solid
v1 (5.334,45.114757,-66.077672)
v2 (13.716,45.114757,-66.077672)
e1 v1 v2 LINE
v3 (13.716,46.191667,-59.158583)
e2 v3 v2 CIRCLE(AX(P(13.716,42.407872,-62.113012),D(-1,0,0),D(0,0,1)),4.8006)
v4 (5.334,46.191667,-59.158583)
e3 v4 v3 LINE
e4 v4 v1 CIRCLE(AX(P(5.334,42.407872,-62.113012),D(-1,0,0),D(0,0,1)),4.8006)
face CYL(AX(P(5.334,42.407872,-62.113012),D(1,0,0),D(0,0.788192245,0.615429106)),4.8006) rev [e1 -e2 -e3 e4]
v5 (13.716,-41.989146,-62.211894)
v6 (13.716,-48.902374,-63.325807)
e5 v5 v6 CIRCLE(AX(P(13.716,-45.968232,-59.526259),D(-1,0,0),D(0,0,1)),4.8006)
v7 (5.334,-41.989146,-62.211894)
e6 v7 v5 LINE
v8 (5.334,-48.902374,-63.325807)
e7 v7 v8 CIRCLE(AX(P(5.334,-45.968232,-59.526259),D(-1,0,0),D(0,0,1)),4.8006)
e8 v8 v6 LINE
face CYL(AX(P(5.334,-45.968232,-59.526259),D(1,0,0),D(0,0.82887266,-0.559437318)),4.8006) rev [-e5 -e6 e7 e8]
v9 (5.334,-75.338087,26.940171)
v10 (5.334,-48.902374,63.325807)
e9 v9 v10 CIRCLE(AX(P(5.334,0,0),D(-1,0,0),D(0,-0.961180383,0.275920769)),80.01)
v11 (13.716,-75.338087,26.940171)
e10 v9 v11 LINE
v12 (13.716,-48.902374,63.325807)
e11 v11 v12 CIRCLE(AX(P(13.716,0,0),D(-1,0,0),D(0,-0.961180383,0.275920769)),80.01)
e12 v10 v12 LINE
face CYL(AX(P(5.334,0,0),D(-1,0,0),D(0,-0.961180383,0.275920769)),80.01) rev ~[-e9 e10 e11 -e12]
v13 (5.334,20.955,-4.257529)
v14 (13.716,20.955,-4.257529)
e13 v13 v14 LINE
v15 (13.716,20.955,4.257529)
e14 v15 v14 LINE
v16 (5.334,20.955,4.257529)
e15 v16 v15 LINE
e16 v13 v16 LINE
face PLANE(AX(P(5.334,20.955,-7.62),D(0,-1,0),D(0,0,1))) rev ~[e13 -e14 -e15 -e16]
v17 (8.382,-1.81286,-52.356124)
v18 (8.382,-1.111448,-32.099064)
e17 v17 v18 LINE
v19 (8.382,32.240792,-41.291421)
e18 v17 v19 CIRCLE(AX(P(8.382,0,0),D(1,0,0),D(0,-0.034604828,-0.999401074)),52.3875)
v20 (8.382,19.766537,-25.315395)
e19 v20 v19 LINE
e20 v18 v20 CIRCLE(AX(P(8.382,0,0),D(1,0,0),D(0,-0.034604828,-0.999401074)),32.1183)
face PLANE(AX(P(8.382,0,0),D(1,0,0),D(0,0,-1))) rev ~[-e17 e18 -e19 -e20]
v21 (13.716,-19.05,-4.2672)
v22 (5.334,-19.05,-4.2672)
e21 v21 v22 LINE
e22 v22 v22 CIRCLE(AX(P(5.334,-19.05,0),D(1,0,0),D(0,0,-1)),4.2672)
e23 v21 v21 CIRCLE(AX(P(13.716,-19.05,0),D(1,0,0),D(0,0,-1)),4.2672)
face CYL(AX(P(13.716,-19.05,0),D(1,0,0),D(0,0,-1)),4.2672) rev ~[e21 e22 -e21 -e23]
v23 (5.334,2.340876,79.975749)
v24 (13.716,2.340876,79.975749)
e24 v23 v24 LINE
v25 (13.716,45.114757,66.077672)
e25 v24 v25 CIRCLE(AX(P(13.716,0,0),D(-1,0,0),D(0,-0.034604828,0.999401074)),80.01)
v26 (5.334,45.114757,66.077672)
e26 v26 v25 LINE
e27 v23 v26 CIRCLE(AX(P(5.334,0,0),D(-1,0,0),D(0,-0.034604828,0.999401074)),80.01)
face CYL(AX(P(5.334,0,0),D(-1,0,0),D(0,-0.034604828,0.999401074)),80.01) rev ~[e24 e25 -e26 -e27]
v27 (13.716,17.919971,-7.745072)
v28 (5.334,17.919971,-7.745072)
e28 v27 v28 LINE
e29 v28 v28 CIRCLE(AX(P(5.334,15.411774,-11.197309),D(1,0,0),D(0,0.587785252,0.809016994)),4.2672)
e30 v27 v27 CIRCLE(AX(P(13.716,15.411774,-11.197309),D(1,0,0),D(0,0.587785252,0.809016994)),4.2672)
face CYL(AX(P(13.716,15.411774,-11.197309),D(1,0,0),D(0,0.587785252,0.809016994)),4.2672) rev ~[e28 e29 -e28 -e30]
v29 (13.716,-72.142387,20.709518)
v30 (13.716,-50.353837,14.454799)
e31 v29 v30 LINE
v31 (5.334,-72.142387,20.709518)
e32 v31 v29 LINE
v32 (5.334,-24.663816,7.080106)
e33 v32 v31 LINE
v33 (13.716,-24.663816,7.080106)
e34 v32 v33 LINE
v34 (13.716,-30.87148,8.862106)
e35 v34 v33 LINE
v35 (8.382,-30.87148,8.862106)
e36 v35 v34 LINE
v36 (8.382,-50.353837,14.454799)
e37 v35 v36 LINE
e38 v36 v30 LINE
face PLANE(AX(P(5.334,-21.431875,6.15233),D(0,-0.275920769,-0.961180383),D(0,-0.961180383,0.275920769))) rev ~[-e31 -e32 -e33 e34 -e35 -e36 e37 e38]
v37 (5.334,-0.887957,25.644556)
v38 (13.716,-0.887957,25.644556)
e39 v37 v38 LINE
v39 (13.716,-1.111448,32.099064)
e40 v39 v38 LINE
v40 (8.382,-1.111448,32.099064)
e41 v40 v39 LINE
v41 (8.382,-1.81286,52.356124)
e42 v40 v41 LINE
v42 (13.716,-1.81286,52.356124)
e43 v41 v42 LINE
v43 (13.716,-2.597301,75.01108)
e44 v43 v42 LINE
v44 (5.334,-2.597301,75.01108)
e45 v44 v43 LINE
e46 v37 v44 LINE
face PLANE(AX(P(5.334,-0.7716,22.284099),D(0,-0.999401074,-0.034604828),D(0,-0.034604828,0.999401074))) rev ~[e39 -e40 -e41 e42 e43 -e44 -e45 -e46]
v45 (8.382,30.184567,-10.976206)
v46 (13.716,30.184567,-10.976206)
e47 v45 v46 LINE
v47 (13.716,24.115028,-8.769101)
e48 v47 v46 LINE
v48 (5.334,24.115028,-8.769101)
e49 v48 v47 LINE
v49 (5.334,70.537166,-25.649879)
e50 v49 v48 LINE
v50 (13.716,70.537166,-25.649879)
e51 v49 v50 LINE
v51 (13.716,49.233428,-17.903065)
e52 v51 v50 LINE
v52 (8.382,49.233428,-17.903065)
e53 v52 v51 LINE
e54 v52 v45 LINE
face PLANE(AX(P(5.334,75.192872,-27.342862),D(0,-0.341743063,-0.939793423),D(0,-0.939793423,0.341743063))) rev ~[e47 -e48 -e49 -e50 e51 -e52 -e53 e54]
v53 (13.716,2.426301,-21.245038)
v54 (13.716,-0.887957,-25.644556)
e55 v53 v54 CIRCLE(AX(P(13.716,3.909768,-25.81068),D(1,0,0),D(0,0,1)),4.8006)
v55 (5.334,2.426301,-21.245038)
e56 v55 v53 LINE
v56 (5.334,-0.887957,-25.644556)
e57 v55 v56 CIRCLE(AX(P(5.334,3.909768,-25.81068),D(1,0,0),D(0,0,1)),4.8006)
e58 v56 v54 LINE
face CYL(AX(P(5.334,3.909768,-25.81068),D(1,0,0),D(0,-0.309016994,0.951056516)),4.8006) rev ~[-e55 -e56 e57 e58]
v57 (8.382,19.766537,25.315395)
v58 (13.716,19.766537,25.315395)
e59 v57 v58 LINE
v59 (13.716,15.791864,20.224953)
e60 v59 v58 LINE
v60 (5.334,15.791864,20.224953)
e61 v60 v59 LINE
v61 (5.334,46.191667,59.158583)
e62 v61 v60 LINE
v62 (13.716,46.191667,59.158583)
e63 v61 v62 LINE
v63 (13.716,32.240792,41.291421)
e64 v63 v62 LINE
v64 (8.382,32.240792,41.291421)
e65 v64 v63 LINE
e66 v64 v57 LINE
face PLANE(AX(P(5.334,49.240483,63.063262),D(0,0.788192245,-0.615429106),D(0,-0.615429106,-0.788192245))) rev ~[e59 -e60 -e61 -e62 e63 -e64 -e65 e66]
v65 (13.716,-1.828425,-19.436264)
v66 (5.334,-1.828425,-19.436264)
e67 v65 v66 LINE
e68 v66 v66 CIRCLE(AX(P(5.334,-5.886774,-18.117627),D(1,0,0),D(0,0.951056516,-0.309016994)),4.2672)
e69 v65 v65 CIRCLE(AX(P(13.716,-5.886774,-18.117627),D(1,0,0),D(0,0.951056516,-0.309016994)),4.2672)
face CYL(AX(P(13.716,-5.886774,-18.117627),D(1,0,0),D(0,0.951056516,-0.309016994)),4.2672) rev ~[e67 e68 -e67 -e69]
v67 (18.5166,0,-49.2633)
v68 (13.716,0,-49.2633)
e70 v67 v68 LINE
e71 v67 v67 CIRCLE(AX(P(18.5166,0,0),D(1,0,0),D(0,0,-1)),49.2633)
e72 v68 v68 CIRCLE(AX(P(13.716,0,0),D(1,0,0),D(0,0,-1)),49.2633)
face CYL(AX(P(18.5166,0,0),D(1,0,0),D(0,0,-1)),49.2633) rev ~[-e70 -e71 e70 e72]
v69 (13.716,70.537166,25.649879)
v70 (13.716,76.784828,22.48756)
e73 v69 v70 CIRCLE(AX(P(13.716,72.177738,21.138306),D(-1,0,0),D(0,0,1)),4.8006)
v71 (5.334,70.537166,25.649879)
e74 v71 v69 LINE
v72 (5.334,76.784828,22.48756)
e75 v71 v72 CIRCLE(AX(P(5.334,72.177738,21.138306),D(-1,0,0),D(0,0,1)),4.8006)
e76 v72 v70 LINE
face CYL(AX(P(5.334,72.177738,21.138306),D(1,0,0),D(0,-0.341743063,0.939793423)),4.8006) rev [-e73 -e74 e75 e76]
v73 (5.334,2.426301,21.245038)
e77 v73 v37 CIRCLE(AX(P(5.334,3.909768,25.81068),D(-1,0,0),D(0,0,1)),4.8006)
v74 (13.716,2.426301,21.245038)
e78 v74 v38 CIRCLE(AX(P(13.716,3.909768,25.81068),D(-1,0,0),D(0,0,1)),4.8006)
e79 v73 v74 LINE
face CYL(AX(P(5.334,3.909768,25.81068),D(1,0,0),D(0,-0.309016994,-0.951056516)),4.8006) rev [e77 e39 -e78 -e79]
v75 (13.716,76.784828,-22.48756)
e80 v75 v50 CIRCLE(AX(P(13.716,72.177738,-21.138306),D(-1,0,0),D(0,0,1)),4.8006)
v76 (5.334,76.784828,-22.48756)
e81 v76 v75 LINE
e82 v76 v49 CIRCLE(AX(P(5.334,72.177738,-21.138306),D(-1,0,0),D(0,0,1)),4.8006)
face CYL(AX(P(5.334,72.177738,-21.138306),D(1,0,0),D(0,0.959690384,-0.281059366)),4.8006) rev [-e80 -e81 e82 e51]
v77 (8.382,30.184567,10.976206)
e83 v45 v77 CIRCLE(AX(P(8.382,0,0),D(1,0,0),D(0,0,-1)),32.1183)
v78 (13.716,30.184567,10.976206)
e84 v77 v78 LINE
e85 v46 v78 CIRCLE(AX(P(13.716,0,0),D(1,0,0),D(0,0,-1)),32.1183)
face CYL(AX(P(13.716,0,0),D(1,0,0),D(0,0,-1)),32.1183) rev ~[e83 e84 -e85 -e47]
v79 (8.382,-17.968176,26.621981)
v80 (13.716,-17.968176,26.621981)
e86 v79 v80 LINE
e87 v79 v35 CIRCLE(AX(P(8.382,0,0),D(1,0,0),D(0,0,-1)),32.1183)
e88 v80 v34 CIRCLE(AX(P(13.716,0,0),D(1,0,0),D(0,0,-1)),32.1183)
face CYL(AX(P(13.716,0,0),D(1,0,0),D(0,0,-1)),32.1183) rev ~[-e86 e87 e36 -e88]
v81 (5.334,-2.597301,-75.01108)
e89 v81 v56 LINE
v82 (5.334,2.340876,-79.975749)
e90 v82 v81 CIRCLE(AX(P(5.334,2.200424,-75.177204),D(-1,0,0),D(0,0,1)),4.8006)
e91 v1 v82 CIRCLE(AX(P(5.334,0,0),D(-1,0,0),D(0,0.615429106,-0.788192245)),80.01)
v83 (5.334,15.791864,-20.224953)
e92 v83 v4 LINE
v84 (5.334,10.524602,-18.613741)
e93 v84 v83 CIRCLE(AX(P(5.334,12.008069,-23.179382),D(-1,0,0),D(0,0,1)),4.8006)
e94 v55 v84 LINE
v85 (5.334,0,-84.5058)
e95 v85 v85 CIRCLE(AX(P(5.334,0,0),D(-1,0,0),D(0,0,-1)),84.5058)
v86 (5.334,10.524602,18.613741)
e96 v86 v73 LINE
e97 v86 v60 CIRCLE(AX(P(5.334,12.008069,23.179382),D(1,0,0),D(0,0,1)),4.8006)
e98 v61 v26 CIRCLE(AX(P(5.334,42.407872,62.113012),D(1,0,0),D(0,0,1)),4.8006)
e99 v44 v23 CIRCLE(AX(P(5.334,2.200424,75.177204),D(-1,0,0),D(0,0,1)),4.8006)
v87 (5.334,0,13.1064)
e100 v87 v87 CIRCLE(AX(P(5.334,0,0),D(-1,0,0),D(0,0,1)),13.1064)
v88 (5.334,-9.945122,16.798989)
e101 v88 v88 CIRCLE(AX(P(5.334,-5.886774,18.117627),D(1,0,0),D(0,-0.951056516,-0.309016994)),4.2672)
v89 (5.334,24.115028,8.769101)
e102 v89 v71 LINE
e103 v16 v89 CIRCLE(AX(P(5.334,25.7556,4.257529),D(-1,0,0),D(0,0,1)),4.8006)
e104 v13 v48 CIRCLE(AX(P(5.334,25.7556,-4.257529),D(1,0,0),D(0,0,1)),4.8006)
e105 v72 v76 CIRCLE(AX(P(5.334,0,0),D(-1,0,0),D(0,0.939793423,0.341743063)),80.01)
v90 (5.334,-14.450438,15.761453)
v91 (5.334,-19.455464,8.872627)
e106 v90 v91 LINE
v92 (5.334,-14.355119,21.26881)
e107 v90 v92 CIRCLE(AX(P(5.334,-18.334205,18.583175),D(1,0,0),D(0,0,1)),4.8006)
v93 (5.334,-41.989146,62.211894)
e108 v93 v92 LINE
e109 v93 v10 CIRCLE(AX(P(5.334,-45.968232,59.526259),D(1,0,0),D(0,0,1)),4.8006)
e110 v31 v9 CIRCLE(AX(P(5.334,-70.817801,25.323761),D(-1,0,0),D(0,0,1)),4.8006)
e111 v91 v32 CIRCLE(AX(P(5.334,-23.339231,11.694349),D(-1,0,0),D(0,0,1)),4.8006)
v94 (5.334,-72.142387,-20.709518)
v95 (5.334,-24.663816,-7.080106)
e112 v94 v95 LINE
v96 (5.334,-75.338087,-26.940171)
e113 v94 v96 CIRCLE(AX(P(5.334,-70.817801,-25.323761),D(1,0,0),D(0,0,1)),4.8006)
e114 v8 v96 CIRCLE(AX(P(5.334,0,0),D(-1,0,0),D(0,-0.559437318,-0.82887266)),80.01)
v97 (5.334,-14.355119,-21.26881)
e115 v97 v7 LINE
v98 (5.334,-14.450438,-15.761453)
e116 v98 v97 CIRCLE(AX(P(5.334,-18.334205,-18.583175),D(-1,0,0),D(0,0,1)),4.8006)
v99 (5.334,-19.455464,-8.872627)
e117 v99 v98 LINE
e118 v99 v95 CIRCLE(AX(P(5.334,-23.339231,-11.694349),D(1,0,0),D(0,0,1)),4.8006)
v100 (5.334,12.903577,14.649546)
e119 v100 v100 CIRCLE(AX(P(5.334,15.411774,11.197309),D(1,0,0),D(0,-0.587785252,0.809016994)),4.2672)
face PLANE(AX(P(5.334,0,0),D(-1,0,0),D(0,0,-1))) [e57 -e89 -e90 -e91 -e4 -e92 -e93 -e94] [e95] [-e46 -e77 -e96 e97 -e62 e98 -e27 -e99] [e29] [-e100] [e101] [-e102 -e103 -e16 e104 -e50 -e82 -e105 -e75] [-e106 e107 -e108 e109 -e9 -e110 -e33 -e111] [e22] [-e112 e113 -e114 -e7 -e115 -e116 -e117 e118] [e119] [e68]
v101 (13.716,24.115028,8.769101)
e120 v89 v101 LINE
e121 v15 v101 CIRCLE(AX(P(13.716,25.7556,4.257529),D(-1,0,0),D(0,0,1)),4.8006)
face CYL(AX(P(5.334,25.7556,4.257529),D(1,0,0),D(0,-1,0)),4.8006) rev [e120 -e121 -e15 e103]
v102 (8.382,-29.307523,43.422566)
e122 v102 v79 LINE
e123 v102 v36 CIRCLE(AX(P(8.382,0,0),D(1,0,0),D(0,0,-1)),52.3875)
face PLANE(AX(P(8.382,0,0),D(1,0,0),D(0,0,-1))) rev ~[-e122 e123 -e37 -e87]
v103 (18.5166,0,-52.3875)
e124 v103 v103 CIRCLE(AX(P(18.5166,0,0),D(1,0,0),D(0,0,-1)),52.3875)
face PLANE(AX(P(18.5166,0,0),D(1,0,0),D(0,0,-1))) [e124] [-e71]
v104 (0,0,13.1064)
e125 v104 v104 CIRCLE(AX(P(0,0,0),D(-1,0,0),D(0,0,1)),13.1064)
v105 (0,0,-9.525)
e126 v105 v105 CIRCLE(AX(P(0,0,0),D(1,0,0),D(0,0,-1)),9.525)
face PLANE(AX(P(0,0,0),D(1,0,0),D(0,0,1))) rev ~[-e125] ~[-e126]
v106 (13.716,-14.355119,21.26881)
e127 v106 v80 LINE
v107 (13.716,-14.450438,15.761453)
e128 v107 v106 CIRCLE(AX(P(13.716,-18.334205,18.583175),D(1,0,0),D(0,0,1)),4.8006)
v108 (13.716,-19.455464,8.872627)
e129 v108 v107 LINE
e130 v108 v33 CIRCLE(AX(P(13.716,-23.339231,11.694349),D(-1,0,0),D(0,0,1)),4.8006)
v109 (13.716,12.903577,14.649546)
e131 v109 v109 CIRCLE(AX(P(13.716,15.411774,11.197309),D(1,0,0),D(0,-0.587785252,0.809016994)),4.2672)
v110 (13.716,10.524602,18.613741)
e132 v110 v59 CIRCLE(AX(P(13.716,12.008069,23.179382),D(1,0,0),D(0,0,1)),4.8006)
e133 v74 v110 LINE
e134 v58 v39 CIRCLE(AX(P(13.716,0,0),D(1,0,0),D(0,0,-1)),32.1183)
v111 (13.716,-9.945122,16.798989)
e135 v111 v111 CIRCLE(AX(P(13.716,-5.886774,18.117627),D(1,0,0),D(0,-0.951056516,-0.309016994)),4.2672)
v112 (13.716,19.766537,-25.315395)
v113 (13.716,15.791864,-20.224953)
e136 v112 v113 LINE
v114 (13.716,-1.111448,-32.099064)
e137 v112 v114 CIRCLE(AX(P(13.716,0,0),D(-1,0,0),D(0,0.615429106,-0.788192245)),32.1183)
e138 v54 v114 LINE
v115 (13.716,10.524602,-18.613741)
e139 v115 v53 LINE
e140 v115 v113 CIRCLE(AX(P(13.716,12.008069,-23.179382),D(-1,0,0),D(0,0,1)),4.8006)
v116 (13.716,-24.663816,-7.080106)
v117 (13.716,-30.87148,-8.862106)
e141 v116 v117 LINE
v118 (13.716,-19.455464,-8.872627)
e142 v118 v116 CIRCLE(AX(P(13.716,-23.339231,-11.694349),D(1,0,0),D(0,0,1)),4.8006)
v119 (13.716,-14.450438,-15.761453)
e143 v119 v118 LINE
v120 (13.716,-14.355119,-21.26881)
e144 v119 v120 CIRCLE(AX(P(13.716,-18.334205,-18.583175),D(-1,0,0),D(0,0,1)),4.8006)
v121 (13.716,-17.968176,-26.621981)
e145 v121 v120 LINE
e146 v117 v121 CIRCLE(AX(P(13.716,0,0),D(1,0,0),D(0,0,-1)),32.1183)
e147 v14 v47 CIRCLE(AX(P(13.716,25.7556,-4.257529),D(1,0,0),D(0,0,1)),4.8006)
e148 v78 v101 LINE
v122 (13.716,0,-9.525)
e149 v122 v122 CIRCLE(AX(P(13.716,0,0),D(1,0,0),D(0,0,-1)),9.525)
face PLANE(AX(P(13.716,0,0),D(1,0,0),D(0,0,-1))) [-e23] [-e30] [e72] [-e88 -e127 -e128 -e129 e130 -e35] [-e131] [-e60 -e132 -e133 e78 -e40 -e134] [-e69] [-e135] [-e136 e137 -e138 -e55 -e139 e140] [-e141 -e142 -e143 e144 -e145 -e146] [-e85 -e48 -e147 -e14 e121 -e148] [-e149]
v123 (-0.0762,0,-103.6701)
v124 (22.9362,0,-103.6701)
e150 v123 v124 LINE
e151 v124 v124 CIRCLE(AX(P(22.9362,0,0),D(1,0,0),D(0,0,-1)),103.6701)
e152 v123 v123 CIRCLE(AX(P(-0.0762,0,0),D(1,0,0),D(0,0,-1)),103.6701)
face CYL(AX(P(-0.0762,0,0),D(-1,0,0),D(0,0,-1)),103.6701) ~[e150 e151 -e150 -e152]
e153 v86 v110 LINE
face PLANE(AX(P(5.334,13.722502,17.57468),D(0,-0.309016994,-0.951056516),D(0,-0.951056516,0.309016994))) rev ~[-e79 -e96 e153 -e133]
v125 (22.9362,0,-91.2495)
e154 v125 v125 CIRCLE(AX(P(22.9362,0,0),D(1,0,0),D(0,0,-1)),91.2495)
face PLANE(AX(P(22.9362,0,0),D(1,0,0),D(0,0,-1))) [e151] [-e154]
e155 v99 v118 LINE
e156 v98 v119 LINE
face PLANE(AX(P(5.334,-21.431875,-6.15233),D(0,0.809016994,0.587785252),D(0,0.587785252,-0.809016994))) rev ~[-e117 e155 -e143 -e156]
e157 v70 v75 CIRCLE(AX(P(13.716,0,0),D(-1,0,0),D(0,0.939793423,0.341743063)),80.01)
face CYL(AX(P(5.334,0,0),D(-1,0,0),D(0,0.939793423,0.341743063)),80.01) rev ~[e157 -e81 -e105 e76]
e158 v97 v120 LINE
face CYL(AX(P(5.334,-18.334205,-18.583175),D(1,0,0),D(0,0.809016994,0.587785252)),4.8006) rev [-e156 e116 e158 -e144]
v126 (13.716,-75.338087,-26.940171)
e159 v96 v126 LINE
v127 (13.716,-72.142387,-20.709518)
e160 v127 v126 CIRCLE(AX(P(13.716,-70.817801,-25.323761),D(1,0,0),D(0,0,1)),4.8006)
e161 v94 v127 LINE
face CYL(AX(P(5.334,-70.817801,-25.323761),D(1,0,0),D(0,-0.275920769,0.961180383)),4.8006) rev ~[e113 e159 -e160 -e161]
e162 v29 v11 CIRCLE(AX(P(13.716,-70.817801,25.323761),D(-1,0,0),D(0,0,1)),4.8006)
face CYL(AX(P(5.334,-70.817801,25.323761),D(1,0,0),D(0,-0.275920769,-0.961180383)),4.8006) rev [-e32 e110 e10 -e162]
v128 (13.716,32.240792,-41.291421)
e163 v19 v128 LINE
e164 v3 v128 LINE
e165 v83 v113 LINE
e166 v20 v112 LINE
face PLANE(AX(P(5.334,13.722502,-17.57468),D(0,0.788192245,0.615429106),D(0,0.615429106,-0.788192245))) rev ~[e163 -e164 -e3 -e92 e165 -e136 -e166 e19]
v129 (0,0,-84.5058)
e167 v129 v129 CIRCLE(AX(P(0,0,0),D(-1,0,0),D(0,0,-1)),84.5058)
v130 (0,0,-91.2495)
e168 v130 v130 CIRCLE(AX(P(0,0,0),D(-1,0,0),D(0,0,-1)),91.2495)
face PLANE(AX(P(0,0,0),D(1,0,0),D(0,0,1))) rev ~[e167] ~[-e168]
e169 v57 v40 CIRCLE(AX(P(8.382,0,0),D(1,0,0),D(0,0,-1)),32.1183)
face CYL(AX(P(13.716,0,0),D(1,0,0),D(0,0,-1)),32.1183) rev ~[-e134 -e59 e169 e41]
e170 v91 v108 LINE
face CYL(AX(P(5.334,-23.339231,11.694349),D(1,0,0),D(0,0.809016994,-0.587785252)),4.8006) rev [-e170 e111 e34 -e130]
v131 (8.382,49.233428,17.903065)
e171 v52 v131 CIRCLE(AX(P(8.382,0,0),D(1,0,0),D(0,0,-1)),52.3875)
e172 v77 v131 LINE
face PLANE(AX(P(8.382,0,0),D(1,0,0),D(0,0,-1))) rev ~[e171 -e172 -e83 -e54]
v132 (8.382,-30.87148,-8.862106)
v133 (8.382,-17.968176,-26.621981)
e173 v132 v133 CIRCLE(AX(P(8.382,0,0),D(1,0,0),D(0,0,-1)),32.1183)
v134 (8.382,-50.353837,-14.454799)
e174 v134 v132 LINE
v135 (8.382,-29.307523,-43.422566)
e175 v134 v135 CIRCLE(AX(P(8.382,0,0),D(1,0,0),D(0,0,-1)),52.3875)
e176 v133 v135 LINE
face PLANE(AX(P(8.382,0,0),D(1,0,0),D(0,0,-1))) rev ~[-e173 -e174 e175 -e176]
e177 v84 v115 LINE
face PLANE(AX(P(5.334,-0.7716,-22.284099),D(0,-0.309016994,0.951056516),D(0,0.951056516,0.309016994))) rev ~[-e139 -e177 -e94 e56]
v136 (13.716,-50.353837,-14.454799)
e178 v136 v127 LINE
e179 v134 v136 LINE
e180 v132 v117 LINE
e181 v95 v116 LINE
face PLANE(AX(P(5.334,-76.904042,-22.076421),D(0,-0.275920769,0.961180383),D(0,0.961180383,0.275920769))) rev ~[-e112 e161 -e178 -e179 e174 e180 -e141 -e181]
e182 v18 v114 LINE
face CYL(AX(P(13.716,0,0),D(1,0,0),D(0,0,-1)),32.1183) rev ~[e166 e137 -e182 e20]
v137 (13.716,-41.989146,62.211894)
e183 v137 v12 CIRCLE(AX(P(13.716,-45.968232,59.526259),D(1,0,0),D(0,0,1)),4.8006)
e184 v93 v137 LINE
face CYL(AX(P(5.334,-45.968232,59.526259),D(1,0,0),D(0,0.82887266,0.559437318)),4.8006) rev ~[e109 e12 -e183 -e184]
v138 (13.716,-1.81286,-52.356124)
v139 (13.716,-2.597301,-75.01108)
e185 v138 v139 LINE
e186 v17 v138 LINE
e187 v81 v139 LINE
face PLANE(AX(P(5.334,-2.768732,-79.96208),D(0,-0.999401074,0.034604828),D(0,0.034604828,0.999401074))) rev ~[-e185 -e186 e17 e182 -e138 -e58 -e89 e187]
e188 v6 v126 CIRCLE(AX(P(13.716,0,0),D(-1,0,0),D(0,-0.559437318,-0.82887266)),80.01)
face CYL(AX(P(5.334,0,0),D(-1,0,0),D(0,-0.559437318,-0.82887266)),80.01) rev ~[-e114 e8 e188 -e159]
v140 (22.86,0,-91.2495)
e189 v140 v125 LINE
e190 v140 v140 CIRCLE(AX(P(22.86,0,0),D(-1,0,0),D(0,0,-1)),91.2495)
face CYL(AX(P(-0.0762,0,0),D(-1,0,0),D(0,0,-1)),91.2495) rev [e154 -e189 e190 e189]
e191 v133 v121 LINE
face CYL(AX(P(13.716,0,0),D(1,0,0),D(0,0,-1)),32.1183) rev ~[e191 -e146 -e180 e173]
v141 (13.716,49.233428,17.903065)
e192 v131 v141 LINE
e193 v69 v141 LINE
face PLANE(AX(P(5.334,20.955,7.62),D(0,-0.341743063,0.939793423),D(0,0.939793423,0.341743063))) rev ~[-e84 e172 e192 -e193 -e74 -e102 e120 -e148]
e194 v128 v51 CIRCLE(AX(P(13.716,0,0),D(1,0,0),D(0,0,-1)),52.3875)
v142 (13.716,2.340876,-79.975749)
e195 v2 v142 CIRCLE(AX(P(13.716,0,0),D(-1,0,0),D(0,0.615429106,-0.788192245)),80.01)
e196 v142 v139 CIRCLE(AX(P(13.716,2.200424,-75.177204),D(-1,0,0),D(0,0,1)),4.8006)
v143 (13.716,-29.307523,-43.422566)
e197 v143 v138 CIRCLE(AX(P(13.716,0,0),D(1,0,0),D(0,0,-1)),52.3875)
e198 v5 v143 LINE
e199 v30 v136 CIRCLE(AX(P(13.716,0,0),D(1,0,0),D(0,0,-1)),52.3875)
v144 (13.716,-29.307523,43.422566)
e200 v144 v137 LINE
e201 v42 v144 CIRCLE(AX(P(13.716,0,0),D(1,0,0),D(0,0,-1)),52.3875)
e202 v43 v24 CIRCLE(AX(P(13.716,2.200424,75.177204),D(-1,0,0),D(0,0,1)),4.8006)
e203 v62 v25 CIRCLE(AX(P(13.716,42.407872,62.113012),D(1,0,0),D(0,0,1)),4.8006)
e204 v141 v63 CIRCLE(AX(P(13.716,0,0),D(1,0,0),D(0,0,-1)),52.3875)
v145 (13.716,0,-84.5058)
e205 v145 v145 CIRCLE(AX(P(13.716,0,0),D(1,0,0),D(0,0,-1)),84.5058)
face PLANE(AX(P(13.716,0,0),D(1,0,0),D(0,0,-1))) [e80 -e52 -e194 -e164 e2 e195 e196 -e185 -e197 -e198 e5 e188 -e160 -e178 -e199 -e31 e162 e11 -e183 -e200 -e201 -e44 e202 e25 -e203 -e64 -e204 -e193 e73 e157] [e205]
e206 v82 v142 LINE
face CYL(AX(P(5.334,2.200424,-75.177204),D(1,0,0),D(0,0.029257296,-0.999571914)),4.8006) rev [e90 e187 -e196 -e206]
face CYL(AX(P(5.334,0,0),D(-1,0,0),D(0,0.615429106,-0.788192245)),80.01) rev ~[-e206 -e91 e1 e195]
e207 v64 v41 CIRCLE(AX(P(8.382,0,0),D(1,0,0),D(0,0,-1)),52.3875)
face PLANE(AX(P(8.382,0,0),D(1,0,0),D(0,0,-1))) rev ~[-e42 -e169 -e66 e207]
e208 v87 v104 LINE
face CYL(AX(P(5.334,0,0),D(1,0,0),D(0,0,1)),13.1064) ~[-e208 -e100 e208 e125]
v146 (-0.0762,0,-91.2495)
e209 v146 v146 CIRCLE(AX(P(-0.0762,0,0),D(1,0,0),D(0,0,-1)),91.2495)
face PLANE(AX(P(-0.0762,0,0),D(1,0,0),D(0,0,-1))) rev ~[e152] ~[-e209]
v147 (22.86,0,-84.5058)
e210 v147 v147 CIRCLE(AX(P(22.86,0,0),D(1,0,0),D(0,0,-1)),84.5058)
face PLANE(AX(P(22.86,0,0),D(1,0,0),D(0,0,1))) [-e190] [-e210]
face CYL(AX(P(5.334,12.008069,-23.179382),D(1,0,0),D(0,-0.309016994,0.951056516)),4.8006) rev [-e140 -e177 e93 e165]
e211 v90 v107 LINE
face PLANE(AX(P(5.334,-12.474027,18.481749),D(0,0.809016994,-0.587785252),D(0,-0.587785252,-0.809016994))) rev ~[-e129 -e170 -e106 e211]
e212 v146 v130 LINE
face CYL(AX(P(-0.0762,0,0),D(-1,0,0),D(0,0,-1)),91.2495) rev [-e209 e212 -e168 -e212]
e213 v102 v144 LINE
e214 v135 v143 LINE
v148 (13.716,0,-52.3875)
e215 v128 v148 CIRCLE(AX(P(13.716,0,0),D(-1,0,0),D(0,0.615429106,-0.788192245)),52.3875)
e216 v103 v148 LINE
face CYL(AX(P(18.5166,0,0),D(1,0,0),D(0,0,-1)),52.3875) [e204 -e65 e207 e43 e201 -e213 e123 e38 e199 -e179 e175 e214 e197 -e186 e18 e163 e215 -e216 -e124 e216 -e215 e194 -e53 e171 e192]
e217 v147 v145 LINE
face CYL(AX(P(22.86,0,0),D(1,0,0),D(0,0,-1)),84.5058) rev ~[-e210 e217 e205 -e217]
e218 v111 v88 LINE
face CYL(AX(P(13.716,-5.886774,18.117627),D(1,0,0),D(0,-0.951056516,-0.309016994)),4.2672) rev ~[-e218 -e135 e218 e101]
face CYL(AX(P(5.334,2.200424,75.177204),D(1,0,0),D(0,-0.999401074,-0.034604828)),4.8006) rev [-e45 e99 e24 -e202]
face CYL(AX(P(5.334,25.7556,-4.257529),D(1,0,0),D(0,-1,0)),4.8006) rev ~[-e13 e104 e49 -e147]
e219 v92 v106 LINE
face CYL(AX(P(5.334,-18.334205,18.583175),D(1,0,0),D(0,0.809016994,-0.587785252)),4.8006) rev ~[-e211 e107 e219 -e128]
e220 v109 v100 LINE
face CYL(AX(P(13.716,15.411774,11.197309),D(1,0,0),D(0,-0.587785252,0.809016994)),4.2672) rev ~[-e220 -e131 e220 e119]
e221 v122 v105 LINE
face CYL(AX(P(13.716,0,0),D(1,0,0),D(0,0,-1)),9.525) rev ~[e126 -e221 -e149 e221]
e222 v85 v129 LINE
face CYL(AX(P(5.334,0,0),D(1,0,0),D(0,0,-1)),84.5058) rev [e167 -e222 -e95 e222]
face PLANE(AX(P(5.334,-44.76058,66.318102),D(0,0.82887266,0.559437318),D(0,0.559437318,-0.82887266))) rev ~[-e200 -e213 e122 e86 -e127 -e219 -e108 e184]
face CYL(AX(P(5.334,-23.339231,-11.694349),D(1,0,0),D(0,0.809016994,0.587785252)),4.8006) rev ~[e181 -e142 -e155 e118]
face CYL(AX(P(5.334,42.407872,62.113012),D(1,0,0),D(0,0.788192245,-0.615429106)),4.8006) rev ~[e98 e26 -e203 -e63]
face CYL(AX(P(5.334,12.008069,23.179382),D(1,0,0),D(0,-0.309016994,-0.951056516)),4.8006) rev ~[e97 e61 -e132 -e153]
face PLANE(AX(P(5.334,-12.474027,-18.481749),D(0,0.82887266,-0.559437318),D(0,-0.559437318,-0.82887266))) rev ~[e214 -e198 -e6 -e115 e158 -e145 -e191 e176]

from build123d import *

# Parameters (mm, degrees)
SKETCH1_R                = 34.544
BOSS_EXTRUDE1_DEPTH      = 7.62
SKETCH2_R                = 28.1686
CUT_EXTRUDE1_DEPTH       = 3.048
CUT_EXTRUDE2_START       = -1.778
SKETCH3_R                = 28.1686
SKETCH3_R_2              = 4.3688
CUT_EXTRUDE2_DEPTH       = 1.778
CUT_EXTRUDE3_DEPTH       = 50.200658898
FILLET1_R                = 1.6002
CIRPATTERN1_COUNT        = 5
FILLET1_OF_CIRPATTERN1_R = 1.6002
SKETCH5_R                = 17.4625
SKETCH5_R_2              = 10.7061
BOSS_EXTRUDE2_DEPTH      = 1.778
BOSS_EXTRUDE4_START      = 1.6002
SKETCH6_R                = 17.4625
SKETCH6_R_2              = 16.4211
BOSS_EXTRUDE4_DEPTH      = 1.6002
SKETCH7_R                = 3.175
CUT_EXTRUDE4_DEPTH       = 50.066068275
SKETCH8_R                = 1.4224
CUT_EXTRUDE5_DEPTH       = 50.066068275
CIRPATTERN2_COUNT        = 5
BOSS_EXTRUDE5_DEPTH      = 0.0254
BOSS_EXTRUDE5_DEPTH_BACK = 7.6454
SKETCH9_R                = 34.5567
SKETCH9_R_2              = 30.4165
SCALE_1_SCALE            = 3


with BuildPart() as part:
    # Sketch1 → Boss-Extrude1 (new body)
    with BuildSketch(Plane(origin=(0, 0, 0), x_dir=(0, 0, -1), z_dir=(1, 0, 0))):
        with Locations(Location((0, 0, 0), (0, 0, 180))):
            Circle(SKETCH1_R)
    extrude(amount=BOSS_EXTRUDE1_DEPTH)

    # Sketch2 → Cut-Extrude1 (cut)
    with BuildSketch(Plane(origin=(7.62, 0, 0), x_dir=(0, 0, -1), z_dir=(1, 0, 0))):
        Circle(SKETCH2_R)
    extrude(amount=-CUT_EXTRUDE1_DEPTH, mode=Mode.SUBTRACT)

    # Sketch3 → Cut-Extrude2 (cut)
    with BuildSketch(Plane.ZY.offset(CUT_EXTRUDE2_START)):
        with Locations(Location((0, 0, 0), (0, 0, 180))):
            Circle(SKETCH3_R)
        Circle(SKETCH3_R_2, mode=Mode.SUBTRACT)
    extrude(amount=CUT_EXTRUDE2_DEPTH, mode=Mode.SUBTRACT)

    # Sketch4 → Cut-Extrude3 (cut, through all)
    with BuildSketch(Plane.ZY.offset(-1.778)):
        with BuildLine():
            Line((-2.54, 6.985), (2.54, 6.985))
            Line((2.54, 6.985), (9.114287493, 25.064290604))
            ThreePointArc((9.114287493, 25.064290604), (0, 26.67), (-9.114287493, 25.064290604))
            Line((-9.114287493, 25.064290604), (-2.54, 6.985))
        make_face()
    cut_extrude3 = extrude(amount=-CUT_EXTRUDE3_DEPTH, mode=Mode.SUBTRACT)

    # Fillet1
    fillet1_edges = [part.edges().sort_by_distance(p)[0] for p in [
        (3.175, 25.064290604, 9.114287493),
        (3.175, 6.985, 2.54),
        (3.175, 6.985, -2.54),
        (3.175, 25.064290604, -9.114287493),
    ]]
    fillet(fillet1_edges, radius=FILLET1_R)

    # CirPattern1: Cut-Extrude3 ×5 about axis
    cirpattern1_axis = Axis((0, 0, 0), (1, 0, 0))
    for i in range(1, CIRPATTERN1_COUNT):
        add(cut_extrude3.rotate(cirpattern1_axis, i * 360 / CIRPATTERN1_COUNT), mode=Mode.SUBTRACT)

    # Fillet1 of CirPattern1
    fillet1_of_cirpattern1_edges = [part.edges().sort_by_distance(p)[0] for p in [
        (3.175, -0.922910762, 26.654026632),
        (3.175, -0.257199846, 7.428032932),
        (3.175, 4.574167257, 5.858226601),
        (3.175, 16.41349426, 21.021087179),
        (3.175, -25.634680824, 7.358806903),
        (3.175, -7.143958247, 2.050776822),
        (3.175, -4.158009165, 6.160583153),
        (3.175, -14.920193278, 22.10603385),
        (3.175, -14.920193278, -22.10603385),
        (3.175, -4.158009165, -6.160583153),
        (3.175, -7.143958247, -2.050776822),
        (3.175, -25.634680824, -7.358806903),
        (3.175, 16.41349426, -21.021087179),
        (3.175, 4.574167257, -5.858226601),
        (3.175, -0.257199846, -7.428032932),
        (3.175, -0.922910762, -26.654026632),
    ]]
    fillet(fillet1_of_cirpattern1_edges, radius=FILLET1_OF_CIRPATTERN1_R)

    # Sketch5 → Boss-Extrude2 (add)
    with BuildSketch(Plane(origin=(4.572, 0, 0), x_dir=(0, 0, -1), z_dir=(1, 0, 0))):
        Circle(SKETCH5_R)
        Circle(SKETCH5_R_2, mode=Mode.SUBTRACT)
    extrude(amount=-BOSS_EXTRUDE2_DEPTH)

    # Sketch6 → Boss-Extrude4 (add)
    with BuildSketch(Plane(origin=(4.572, 0, 0), x_dir=(0, 0, -1), z_dir=(1, 0, 0)).offset(BOSS_EXTRUDE4_START)):
        Circle(SKETCH6_R)
        Circle(SKETCH6_R_2, mode=Mode.SUBTRACT)
    extrude(amount=-BOSS_EXTRUDE4_DEPTH)

    # Sketch7 → Cut-Extrude4 (cut, through all)
    with BuildSketch(Plane(origin=(4.572, 0, 0), x_dir=(0, 0, -1), z_dir=(1, 0, 0))):
        Circle(SKETCH7_R)
    extrude(amount=-CUT_EXTRUDE4_DEPTH, mode=Mode.SUBTRACT)

    # Sketch8 → Cut-Extrude5 (cut, through all)
    with BuildSketch(Plane(origin=(4.572, 0, 0), x_dir=(0, 0, -1), z_dir=(1, 0, 0))):
        with Locations((0, -6.35)):
            Circle(SKETCH8_R)
    cut_extrude5 = extrude(amount=-CUT_EXTRUDE5_DEPTH, mode=Mode.SUBTRACT)

    # CirPattern2: Cut-Extrude5 ×5 about axis
    cirpattern2_axis = Axis((0, 0, 0), (1, 0, 0))
    for i in range(1, CIRPATTERN2_COUNT):
        add(cut_extrude5.rotate(cirpattern2_axis, i * 360 / CIRPATTERN2_COUNT), mode=Mode.SUBTRACT)

    # Sketch9 → Boss-Extrude5 (add, two sides: drawn at the far end of the back side and taken through both)
    with BuildSketch(Plane(origin=(7.62, 0, 0), x_dir=(0, 0, -1), z_dir=(1, 0, 0)).offset(-BOSS_EXTRUDE5_DEPTH_BACK)):
        Circle(SKETCH9_R)
        Circle(SKETCH9_R_2, mode=Mode.SUBTRACT)
    extrude(amount=BOSS_EXTRUDE5_DEPTH + BOSS_EXTRUDE5_DEPTH_BACK)


with BuildPart() as part_1:
    # 缩放比例1: scaled about (0, 0, 0)
    add(part.part.scale(SCALE_1_SCALE))


solid = part_1.part
